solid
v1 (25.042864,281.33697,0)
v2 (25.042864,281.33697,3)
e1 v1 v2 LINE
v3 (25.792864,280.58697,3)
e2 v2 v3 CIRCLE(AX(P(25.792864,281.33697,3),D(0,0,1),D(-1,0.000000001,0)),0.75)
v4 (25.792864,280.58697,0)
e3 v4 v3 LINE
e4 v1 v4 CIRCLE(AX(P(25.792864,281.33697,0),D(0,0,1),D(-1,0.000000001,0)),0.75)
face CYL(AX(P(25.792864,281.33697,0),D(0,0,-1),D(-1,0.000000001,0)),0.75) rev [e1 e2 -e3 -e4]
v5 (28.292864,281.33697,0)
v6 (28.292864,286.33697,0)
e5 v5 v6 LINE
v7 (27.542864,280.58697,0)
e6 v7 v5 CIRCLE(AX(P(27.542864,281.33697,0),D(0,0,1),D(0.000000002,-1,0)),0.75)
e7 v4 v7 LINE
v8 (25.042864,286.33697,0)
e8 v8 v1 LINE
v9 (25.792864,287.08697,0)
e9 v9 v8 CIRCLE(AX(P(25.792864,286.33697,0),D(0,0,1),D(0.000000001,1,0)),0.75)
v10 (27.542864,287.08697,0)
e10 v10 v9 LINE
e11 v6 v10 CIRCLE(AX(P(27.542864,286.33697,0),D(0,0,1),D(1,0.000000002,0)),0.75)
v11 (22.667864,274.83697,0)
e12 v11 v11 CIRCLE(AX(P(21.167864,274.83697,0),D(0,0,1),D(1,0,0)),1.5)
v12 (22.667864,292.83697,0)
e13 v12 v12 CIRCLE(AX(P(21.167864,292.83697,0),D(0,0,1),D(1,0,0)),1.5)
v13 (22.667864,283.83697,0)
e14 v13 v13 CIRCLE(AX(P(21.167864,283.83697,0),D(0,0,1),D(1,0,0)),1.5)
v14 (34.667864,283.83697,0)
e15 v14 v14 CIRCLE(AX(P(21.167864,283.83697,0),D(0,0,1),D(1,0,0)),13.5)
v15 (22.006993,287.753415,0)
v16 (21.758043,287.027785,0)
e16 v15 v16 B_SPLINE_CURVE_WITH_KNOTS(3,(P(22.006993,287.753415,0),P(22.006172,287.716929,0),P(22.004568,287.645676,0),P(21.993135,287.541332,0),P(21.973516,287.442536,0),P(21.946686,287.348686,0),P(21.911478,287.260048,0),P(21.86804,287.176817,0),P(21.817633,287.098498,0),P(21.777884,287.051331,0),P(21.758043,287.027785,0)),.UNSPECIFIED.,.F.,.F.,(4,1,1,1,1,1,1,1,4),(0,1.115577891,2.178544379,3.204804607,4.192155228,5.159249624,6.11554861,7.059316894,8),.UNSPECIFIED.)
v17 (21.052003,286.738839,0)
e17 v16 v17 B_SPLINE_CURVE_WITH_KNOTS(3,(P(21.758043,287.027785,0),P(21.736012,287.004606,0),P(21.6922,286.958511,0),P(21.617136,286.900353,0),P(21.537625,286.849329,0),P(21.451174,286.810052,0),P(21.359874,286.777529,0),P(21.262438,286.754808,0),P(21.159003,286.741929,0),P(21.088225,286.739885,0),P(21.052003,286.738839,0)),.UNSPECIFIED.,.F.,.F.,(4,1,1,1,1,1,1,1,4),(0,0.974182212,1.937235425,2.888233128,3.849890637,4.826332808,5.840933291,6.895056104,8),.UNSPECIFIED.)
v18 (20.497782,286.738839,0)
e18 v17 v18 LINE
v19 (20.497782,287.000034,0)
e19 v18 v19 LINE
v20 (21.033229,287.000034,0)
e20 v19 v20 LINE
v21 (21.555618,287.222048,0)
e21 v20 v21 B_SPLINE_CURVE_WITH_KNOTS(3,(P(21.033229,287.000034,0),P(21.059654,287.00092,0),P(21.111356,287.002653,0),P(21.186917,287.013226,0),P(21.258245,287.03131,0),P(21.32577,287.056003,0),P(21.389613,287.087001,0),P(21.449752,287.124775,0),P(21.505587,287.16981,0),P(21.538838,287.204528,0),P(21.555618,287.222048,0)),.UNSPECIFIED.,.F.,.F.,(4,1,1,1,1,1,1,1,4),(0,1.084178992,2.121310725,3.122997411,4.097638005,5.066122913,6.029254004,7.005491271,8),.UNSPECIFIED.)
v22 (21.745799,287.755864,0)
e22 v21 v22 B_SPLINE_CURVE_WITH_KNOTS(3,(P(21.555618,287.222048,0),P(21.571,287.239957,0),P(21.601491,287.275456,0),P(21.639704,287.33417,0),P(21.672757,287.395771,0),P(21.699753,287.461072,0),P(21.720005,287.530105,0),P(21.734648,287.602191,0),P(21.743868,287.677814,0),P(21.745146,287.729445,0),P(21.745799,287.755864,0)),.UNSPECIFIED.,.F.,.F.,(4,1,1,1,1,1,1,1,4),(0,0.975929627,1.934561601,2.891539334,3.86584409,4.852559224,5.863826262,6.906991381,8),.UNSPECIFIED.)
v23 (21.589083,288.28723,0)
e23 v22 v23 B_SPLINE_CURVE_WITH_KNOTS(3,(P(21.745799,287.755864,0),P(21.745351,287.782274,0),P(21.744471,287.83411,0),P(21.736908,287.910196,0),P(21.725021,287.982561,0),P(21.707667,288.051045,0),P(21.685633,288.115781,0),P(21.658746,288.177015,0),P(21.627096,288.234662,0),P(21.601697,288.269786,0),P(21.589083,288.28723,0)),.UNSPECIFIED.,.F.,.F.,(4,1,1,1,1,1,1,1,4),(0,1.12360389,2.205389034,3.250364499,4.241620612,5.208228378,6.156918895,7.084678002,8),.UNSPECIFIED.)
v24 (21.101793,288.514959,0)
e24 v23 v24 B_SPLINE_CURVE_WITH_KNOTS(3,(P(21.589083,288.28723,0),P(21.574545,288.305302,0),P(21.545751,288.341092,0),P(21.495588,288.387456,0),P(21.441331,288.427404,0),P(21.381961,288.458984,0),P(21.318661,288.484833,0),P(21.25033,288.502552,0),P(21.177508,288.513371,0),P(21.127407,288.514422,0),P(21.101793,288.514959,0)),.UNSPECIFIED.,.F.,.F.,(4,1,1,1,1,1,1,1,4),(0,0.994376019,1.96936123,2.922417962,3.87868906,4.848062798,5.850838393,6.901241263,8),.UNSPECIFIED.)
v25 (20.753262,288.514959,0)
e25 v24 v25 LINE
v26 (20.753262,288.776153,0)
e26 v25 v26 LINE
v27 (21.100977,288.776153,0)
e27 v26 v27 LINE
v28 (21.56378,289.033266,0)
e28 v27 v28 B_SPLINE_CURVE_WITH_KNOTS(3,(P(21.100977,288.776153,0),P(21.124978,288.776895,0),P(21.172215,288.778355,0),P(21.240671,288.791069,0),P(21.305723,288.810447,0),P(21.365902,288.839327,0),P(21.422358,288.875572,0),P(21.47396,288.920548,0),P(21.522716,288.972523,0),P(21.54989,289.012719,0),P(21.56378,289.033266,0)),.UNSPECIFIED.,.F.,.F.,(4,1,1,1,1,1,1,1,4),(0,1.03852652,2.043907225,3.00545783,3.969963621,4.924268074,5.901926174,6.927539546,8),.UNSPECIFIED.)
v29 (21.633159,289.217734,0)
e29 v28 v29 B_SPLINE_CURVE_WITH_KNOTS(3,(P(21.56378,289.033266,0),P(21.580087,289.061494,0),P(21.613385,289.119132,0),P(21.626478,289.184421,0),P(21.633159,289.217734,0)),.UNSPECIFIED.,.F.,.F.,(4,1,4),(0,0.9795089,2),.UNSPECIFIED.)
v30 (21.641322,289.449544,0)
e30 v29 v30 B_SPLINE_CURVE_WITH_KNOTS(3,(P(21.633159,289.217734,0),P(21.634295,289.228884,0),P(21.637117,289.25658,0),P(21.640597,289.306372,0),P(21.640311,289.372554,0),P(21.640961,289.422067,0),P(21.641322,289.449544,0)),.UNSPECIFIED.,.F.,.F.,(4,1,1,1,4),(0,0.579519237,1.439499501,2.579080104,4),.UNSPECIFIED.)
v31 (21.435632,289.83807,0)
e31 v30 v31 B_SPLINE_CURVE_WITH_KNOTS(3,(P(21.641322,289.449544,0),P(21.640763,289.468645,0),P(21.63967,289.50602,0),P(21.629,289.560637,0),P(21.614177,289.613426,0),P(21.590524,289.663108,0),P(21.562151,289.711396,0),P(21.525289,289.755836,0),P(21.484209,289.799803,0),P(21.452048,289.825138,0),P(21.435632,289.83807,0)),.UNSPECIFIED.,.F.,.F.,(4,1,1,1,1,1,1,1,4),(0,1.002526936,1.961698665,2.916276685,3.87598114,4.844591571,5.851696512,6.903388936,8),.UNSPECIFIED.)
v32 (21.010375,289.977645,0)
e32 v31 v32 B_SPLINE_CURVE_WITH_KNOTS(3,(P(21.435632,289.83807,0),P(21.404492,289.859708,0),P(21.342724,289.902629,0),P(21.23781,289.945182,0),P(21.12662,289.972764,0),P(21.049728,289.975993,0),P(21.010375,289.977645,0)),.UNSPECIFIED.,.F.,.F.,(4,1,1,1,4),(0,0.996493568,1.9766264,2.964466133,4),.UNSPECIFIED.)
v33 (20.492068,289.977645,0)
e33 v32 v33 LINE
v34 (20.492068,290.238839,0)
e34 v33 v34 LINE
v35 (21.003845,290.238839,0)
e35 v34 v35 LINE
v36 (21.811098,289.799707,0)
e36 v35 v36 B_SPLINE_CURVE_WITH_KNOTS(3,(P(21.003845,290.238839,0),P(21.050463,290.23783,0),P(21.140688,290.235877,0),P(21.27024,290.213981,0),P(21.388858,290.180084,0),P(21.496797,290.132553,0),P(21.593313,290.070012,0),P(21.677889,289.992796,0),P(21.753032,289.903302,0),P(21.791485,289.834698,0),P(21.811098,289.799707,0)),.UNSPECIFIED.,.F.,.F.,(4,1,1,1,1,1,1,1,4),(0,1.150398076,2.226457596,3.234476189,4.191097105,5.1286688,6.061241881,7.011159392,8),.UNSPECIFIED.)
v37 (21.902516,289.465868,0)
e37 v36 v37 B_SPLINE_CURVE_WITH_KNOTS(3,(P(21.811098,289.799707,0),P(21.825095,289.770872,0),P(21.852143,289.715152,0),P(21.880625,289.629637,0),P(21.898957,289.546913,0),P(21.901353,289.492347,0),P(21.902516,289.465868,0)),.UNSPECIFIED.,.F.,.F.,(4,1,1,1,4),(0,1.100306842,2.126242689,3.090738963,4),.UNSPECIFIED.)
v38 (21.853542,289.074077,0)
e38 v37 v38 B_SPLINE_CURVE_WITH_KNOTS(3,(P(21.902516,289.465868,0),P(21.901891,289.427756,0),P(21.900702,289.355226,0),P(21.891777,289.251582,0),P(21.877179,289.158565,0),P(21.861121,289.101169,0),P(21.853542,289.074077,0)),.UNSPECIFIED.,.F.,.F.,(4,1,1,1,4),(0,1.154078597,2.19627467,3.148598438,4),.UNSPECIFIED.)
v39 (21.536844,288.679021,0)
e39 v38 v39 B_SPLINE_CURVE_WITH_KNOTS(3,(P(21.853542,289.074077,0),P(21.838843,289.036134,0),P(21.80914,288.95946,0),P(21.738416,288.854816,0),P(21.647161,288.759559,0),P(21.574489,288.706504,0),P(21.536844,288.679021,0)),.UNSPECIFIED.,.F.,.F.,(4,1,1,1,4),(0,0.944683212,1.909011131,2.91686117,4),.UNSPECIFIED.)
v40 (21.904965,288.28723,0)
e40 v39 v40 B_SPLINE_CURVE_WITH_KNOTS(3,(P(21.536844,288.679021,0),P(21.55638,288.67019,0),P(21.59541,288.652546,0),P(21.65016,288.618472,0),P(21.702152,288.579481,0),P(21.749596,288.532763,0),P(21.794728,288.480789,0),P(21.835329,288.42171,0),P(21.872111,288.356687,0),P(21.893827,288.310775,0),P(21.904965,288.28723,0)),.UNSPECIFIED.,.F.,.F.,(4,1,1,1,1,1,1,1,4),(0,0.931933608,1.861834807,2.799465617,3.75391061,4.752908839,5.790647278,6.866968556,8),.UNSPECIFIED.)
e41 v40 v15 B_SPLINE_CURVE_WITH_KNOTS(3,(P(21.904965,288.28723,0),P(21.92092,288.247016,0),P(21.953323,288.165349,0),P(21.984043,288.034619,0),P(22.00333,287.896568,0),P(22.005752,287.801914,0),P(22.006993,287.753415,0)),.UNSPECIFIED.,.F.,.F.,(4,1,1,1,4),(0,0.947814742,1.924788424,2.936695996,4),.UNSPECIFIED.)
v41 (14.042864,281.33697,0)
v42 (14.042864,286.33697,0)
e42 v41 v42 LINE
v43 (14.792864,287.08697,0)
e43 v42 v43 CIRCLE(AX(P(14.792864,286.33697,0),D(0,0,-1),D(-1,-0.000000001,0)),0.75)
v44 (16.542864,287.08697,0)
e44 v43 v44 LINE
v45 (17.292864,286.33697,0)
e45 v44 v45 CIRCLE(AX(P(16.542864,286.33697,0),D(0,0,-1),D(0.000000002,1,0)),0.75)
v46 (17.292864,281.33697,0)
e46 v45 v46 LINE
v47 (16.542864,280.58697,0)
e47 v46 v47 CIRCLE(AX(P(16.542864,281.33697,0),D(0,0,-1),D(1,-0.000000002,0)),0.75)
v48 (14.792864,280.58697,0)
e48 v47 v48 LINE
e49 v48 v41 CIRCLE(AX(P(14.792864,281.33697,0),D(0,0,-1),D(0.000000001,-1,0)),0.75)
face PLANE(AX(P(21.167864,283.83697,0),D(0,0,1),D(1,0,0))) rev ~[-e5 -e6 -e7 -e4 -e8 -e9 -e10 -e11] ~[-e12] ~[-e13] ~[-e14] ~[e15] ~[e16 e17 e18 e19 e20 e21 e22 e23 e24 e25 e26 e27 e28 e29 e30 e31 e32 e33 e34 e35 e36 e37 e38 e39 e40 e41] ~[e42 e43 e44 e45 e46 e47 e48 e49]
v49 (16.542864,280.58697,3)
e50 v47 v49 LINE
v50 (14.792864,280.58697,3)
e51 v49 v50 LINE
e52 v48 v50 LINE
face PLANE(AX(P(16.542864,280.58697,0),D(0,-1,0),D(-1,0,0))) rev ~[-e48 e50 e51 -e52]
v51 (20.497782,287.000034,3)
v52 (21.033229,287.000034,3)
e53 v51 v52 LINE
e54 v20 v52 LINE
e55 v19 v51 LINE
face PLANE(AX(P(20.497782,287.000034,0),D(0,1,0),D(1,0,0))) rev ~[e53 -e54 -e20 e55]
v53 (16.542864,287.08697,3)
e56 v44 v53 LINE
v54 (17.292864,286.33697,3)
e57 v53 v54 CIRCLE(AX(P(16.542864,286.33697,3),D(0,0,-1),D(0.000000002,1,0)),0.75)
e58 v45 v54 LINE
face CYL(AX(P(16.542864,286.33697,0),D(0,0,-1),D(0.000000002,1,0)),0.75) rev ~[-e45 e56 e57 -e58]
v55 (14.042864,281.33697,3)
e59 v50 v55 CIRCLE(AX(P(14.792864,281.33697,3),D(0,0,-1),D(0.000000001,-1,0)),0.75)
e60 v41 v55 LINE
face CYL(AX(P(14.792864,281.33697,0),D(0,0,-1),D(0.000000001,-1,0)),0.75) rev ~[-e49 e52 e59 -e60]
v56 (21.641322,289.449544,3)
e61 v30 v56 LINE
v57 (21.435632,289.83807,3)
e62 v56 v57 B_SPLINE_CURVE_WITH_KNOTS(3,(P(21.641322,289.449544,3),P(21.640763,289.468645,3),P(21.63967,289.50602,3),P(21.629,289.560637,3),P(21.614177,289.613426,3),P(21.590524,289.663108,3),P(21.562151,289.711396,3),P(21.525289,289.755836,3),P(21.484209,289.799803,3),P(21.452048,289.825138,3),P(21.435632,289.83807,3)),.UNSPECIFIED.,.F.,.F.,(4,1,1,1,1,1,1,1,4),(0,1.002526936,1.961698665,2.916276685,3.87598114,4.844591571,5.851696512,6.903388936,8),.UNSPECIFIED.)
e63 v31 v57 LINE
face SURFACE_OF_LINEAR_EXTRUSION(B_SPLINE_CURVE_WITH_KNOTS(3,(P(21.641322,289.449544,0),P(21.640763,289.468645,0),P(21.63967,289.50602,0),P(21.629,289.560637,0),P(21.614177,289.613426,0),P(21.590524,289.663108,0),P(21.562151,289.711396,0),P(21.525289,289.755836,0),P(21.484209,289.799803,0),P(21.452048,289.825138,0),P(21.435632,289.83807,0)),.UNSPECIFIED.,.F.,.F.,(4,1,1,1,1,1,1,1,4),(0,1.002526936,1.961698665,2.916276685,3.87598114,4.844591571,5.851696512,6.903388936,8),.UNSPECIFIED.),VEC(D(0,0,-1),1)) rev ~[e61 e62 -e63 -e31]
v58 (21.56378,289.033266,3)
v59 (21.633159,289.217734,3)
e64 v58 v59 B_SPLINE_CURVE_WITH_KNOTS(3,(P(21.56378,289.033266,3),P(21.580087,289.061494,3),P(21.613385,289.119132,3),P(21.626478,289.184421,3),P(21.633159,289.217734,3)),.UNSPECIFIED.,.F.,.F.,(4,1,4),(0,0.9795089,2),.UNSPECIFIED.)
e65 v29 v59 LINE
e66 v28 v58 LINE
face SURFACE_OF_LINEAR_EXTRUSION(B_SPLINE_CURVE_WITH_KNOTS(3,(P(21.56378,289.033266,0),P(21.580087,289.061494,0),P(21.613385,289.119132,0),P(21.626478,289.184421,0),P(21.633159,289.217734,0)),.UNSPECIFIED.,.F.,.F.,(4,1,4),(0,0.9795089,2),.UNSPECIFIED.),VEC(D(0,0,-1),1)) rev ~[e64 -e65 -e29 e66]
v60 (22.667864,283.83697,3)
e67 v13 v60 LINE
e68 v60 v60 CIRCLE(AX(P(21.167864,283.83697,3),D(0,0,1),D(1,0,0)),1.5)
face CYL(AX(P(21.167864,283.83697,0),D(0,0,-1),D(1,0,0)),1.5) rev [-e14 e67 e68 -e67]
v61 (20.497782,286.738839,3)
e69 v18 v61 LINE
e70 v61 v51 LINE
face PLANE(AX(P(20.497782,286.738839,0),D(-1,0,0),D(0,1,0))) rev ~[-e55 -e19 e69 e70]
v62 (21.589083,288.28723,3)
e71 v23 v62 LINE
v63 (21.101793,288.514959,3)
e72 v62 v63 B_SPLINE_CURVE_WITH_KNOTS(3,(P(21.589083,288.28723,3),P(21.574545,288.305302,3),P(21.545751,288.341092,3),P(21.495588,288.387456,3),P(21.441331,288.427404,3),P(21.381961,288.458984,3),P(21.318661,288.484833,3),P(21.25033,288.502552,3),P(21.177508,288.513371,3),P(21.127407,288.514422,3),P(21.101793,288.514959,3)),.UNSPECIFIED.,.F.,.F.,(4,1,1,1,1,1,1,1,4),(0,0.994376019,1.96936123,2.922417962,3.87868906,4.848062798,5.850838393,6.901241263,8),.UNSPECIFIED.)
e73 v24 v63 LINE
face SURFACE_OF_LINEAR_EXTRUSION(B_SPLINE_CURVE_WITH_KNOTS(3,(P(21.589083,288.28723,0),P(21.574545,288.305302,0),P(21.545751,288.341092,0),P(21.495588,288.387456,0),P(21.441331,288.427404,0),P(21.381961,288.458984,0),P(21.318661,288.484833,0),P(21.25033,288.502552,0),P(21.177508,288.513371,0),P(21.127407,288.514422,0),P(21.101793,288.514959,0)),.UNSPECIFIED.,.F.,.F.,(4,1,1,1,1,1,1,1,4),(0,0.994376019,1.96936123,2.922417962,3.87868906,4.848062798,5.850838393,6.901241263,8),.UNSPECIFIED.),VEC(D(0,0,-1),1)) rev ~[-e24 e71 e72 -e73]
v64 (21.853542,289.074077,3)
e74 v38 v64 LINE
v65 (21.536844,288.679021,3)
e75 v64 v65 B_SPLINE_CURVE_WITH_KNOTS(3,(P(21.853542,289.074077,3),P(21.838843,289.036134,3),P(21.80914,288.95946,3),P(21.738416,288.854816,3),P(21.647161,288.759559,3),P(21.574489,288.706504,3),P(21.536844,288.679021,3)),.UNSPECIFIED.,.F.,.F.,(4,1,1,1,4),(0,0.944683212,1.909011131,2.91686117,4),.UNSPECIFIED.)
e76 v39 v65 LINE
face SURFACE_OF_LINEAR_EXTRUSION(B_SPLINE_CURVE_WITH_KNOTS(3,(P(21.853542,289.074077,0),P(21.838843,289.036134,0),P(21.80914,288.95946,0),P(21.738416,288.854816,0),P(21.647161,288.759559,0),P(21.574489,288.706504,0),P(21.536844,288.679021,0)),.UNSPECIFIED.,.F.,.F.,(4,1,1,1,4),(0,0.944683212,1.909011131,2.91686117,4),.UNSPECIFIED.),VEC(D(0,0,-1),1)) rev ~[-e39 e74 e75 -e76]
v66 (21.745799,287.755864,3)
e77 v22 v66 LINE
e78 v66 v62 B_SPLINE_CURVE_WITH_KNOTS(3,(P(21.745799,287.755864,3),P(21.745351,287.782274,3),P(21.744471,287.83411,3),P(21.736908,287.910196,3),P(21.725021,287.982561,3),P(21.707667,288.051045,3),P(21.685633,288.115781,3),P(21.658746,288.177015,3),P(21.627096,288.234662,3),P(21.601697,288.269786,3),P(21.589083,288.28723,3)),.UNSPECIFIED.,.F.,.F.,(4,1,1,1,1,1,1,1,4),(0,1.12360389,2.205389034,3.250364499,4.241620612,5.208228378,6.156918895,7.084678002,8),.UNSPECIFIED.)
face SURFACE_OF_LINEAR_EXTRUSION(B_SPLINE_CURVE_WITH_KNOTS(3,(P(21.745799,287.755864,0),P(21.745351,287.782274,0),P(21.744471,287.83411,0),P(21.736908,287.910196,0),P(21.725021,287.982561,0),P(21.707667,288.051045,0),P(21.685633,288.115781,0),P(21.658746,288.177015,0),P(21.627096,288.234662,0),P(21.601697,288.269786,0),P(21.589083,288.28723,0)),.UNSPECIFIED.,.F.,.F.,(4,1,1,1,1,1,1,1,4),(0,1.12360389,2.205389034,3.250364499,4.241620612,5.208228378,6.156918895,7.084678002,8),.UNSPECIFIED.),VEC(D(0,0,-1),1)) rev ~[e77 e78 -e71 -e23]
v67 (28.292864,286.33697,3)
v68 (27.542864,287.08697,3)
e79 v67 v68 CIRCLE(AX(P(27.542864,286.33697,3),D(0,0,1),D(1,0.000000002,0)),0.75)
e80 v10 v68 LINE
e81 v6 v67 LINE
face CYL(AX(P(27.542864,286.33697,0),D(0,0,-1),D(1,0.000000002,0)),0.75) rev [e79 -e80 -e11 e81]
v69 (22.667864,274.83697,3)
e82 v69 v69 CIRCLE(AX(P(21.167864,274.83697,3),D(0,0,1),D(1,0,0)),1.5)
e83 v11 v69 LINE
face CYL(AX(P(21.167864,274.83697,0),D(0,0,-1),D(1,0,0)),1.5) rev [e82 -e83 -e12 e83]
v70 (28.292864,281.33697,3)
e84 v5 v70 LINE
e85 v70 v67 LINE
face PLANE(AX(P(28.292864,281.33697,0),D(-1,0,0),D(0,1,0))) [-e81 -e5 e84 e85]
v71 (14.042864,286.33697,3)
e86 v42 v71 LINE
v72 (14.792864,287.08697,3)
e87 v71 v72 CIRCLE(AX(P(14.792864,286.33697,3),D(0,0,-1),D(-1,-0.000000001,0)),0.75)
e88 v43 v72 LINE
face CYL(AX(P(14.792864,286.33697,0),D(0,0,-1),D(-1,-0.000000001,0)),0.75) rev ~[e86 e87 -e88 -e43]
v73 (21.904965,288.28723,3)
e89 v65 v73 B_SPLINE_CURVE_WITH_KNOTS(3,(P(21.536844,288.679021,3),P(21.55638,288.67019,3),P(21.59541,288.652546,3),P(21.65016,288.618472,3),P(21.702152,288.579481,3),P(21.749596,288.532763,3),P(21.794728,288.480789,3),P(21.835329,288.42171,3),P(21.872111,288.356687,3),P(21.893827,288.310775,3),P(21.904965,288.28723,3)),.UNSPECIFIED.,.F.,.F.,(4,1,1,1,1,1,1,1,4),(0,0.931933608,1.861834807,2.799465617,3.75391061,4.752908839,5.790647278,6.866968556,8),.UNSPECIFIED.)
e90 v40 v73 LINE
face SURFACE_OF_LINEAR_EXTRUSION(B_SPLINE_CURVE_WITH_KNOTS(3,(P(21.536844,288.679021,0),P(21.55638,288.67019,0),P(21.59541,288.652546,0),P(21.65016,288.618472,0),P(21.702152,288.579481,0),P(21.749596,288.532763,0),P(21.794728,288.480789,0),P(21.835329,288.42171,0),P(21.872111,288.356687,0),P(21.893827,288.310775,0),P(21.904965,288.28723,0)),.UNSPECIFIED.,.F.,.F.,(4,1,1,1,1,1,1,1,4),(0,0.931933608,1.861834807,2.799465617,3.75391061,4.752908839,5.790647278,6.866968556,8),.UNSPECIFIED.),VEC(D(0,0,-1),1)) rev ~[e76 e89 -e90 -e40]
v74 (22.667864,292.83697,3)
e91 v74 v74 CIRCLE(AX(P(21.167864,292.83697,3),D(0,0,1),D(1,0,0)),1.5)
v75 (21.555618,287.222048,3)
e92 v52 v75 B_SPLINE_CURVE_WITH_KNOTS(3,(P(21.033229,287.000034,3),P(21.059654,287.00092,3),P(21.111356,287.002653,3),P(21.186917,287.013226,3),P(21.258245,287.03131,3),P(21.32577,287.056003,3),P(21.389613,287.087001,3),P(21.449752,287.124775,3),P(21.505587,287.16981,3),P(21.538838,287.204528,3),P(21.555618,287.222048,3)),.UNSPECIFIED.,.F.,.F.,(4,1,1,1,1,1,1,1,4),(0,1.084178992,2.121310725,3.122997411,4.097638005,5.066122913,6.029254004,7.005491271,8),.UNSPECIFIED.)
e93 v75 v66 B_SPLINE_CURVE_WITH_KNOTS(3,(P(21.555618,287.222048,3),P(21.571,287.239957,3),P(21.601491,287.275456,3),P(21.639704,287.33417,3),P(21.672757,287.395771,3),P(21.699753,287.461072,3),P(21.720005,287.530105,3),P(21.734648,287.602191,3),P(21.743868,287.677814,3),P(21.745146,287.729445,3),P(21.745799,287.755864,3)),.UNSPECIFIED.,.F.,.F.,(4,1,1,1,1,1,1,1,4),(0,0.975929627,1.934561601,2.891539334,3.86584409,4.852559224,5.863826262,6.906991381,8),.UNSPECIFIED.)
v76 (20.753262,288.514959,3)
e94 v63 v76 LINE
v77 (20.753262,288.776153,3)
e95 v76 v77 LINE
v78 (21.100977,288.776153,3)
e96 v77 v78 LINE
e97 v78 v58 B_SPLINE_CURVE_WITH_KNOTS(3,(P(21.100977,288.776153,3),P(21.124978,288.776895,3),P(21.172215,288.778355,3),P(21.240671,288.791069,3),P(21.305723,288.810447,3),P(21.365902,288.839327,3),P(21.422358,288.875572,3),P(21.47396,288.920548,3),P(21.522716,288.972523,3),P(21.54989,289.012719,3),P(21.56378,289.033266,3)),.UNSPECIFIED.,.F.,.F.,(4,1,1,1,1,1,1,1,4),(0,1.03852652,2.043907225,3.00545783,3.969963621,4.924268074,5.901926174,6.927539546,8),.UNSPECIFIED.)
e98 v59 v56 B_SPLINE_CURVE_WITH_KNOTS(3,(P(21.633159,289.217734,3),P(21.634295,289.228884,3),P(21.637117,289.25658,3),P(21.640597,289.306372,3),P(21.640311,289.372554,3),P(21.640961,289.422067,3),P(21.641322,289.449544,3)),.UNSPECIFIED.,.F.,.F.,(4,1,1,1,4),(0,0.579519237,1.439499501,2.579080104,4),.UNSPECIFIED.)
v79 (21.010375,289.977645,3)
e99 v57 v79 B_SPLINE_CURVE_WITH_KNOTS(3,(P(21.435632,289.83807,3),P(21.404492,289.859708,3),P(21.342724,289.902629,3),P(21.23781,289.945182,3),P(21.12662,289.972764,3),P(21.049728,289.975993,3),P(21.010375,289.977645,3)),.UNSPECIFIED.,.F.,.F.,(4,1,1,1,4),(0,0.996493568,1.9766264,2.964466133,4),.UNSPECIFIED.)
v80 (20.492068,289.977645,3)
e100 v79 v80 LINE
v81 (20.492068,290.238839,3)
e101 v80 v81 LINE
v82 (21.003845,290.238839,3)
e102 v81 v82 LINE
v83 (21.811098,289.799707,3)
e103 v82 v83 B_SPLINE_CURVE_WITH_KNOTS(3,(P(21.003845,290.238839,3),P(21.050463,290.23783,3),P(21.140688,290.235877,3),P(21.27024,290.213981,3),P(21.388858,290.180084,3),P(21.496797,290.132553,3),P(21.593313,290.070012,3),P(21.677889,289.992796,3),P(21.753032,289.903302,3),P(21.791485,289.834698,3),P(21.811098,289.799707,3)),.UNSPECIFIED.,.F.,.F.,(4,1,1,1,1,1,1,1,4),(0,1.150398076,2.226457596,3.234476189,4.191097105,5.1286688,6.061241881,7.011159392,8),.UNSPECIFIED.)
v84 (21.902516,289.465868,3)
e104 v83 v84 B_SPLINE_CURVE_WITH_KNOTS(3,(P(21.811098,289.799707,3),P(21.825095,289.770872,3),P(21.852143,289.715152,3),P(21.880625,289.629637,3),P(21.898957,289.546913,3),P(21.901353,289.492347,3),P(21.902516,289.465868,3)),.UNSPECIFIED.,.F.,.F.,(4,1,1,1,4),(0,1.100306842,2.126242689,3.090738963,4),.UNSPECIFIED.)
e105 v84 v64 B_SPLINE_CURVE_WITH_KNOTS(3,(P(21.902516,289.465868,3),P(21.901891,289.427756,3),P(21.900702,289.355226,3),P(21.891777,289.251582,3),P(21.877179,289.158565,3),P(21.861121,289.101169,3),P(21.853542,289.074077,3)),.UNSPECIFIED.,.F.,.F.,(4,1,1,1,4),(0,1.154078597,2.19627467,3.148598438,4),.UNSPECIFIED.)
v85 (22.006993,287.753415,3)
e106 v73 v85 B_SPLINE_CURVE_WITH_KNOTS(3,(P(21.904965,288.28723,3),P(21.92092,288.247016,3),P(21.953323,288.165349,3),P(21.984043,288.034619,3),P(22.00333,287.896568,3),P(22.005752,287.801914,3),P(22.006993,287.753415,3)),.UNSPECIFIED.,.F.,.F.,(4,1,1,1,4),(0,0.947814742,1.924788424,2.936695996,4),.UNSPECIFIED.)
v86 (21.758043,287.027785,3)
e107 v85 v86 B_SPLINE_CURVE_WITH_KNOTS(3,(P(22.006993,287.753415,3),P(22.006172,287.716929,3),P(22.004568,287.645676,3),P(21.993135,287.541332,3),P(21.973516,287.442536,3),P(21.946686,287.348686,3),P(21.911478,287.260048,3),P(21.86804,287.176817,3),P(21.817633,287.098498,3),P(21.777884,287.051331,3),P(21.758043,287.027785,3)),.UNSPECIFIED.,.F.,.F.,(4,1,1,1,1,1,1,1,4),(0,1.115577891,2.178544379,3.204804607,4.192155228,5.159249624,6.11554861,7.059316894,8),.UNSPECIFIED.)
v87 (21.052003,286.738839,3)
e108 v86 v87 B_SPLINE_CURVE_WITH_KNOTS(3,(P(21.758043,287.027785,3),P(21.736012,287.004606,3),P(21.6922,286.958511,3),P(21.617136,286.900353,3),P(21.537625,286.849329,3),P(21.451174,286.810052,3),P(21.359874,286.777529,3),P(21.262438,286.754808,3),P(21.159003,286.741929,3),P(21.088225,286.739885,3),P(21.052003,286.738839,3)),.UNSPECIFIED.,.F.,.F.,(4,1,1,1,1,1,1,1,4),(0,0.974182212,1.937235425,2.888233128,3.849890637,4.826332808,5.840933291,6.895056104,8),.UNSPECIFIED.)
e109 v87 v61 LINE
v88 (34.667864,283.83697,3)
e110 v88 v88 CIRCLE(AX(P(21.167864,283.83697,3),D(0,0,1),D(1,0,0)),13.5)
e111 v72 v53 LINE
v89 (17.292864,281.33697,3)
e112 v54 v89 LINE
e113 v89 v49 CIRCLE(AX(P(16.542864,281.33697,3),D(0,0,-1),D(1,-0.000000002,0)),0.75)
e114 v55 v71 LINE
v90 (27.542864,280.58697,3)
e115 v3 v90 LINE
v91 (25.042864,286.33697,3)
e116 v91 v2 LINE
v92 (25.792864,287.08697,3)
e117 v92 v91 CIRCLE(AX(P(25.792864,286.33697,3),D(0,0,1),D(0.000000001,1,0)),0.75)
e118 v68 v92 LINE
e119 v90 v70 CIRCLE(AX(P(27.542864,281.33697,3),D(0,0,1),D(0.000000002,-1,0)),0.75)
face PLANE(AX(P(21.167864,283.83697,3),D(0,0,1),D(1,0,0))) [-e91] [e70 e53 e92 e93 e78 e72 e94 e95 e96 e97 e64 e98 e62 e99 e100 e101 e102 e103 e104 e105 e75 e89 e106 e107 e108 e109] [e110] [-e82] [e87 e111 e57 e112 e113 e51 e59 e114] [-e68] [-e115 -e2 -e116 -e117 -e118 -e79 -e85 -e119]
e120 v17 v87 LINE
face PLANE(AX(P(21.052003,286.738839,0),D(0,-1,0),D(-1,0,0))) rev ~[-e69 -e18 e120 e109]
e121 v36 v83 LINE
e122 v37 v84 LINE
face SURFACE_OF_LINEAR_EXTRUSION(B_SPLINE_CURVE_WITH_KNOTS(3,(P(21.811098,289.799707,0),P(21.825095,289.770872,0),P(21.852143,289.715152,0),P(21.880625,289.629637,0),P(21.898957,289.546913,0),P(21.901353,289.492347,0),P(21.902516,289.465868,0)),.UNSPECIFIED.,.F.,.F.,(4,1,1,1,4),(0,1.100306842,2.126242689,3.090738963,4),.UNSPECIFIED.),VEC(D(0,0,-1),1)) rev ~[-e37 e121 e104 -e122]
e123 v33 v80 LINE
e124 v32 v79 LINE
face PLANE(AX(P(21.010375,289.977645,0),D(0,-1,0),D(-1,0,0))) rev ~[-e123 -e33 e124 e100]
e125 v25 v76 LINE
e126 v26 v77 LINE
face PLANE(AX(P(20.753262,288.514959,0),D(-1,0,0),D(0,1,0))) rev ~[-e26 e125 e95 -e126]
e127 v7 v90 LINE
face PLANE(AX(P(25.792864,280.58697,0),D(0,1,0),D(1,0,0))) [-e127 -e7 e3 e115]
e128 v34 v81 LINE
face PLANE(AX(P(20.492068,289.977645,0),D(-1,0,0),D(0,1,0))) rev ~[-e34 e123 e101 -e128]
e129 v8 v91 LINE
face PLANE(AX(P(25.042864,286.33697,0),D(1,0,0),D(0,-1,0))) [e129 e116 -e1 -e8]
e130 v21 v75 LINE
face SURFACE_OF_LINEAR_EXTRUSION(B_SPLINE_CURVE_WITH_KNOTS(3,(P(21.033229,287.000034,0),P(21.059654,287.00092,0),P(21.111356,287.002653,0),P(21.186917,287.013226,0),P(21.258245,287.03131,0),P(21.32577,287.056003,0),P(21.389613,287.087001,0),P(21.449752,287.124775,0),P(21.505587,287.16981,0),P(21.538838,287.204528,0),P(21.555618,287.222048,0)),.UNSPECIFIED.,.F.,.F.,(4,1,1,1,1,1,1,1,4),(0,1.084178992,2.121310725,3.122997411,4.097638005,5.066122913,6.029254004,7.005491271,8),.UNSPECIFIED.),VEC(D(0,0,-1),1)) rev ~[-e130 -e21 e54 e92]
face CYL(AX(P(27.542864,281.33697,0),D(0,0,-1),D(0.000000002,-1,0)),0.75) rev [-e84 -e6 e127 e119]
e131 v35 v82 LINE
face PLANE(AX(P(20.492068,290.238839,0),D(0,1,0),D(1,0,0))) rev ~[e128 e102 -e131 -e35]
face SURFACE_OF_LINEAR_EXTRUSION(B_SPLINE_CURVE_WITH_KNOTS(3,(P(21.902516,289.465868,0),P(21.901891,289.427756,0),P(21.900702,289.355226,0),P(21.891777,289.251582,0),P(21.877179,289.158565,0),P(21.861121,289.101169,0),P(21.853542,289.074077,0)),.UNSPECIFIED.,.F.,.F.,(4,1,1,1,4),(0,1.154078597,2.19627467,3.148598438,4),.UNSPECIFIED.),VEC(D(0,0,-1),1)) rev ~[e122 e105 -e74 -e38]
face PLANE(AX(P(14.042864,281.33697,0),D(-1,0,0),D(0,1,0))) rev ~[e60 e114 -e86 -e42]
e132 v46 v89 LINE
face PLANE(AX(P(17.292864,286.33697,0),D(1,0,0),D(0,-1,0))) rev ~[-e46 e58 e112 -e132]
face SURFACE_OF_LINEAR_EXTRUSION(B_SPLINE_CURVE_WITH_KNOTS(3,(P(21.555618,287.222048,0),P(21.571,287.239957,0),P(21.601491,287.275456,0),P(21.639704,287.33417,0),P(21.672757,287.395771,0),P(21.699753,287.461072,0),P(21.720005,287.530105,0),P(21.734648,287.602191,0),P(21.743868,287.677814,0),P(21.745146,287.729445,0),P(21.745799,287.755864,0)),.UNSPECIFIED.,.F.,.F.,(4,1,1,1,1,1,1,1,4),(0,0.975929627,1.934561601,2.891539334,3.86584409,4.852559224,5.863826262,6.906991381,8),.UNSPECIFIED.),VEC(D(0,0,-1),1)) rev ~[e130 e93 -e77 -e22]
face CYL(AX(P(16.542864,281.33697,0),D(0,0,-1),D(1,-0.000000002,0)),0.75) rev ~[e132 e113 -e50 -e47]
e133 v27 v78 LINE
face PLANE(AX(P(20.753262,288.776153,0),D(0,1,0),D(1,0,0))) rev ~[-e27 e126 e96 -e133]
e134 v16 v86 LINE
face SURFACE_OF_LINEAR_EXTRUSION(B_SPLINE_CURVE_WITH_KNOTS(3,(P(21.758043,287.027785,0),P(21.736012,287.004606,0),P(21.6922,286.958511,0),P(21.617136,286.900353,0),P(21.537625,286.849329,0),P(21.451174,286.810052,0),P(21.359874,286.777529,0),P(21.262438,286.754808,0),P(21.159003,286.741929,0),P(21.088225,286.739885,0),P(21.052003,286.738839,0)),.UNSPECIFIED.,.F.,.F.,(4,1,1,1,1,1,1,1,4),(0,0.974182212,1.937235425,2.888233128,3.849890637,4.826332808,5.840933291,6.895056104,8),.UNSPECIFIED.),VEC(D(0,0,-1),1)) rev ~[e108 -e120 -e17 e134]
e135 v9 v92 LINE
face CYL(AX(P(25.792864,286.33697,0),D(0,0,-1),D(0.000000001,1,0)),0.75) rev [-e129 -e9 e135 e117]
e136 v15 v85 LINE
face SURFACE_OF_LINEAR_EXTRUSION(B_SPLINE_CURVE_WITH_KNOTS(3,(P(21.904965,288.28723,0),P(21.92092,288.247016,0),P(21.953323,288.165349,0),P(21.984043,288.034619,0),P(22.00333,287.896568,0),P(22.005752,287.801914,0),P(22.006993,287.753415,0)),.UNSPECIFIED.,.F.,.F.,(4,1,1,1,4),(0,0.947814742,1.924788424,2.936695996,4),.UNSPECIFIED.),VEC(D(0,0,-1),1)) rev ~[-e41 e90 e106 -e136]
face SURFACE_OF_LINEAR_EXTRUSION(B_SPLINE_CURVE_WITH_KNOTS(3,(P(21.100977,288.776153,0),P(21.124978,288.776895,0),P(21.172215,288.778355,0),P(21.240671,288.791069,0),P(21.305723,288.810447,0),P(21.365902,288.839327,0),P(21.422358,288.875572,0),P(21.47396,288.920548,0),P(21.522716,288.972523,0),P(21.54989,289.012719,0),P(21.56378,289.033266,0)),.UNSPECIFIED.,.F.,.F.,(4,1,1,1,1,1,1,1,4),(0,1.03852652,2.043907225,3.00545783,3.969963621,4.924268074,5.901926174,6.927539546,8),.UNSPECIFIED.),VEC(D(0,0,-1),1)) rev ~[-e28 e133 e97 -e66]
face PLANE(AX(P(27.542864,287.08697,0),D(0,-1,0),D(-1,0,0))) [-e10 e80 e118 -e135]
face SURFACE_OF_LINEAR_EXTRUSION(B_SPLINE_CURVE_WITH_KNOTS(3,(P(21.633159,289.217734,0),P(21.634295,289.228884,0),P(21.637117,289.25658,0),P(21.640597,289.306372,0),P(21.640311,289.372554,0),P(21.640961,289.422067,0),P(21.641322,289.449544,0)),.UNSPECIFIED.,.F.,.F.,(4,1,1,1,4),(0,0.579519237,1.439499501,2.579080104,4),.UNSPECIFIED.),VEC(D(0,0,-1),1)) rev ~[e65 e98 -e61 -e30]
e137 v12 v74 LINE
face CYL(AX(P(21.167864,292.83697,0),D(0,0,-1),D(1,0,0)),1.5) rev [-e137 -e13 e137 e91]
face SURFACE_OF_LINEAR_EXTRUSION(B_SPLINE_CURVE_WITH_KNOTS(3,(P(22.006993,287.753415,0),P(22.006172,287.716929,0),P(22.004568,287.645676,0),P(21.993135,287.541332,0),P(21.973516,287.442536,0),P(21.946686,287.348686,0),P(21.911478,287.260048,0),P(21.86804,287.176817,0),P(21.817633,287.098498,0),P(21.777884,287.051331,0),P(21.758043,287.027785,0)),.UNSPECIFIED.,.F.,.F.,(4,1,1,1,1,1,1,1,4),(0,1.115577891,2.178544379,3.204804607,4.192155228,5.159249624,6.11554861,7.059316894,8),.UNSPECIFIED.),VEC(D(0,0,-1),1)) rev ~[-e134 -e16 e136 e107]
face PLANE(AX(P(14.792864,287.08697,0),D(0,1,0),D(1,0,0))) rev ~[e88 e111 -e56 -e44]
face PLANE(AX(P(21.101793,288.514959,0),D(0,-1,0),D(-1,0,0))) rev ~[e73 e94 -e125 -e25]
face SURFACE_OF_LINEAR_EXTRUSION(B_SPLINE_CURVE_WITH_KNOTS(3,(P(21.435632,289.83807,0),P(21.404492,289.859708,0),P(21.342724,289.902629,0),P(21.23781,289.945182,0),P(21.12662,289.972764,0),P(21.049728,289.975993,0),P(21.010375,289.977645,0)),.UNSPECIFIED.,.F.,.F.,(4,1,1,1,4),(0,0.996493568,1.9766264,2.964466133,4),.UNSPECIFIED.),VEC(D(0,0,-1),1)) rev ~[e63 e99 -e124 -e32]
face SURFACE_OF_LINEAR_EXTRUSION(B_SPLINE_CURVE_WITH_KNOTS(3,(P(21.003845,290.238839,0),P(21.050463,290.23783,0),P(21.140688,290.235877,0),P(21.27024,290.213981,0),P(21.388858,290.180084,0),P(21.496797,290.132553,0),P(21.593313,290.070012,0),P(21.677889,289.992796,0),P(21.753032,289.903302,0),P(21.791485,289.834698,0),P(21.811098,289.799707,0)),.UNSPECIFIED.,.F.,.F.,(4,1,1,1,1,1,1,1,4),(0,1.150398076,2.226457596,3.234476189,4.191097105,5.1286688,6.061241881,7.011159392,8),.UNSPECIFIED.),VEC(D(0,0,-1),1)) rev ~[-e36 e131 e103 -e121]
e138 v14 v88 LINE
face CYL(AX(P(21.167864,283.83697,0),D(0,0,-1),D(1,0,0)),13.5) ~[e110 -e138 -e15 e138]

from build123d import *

# Parameters (mm, degrees)
MODEL_R                 = 13.5
MODEL_R_2               = 1.5
SALIENTE_EXTRUIR1_DEPTH = 3


with BuildPart() as part:
    # Model → Saliente-Extruir1 (new body)
    with BuildSketch(Plane.XY):
        with Locations((21.167864369, 283.836969837)):
            Circle(MODEL_R)
        with Locations((21.167864369, 283.836969837)):
            Circle(MODEL_R_2, mode=Mode.SUBTRACT)
        with Locations((21.167864369, 292.836969837)):
            Circle(MODEL_R_2, mode=Mode.SUBTRACT)
        with Locations((21.167864369, 274.836969837)):
            Circle(MODEL_R_2, mode=Mode.SUBTRACT)
        with BuildLine():
            Line((27.542864369, 287.086969837), (25.792864369, 287.086969837))
            ThreePointArc((25.792864369, 287.086969837), (25.262534283, 286.867299923), (25.042864369, 286.336969837))
            Line((25.042864369, 286.336969837), (25.042864369, 281.336969837))
            ThreePointArc((25.042864369, 281.336969837), (25.262534283, 280.806639751), (25.792864369, 280.586969837))
            Line((25.792864369, 280.586969837), (27.542864369, 280.586969837))
            ThreePointArc((27.542864369, 280.586969837), (28.073194454, 280.806639751), (28.292864369, 281.336969837))
            Line((28.292864369, 281.336969837), (28.292864369, 286.336969837))
            ThreePointArc((28.292864369, 286.336969837), (28.073194454, 286.867299923), (27.542864369, 287.086969837))
        make_face(mode=Mode.SUBTRACT)
        with BuildLine():
            Line((14.792864369, 287.086969837), (16.542864369, 287.086969837))
            ThreePointArc((16.542864369, 287.086969837), (17.073194454, 286.867299923), (17.292864369, 286.336969837))
            Line((17.292864369, 286.336969837), (17.292864369, 281.336969837))
            ThreePointArc((17.292864369, 281.336969837), (17.073194454, 280.806639751), (16.542864369, 280.586969837))
            Line((16.542864369, 280.586969837), (14.792864369, 280.586969837))
            ThreePointArc((14.792864369, 280.586969837), (14.262534283, 280.806639751), (14.042864369, 281.336969837))
            Line((14.042864369, 281.336969837), (14.042864369, 286.336969837))
            ThreePointArc((14.042864369, 286.336969837), (14.262534283, 286.867299923), (14.792864369, 287.086969837))
        make_face(mode=Mode.SUBTRACT)
        with BuildLine():
            add(Edge.make_bspline(
                [(22.006993441, 287.753415048), (22.006172191, 287.716928587), (22.004568422, 287.645676392), (21.993135393, 287.541332376), (21.973516379, 287.442536499), (21.946685696, 287.348686497), (21.911477525, 287.260048048), (21.868040261, 287.176817115), (21.817632611, 287.098498345), (21.777884433, 287.05133063), (21.758042881, 287.027785384)],
                knots=[0, 0, 0, 0, 1.115577891, 2.178544379, 3.204804607, 4.192155228, 5.159249624, 6.11554861, 7.059316894, 8, 8, 8, 8], degree=3))
            add(Edge.make_bspline(
                [(21.758042881, 287.027785384), (21.73601152, 287.004605717), (21.692200482, 286.958511187), (21.617136147, 286.900352518), (21.537624651, 286.849328876), (21.451173506, 286.810051796), (21.359873554, 286.77752931), (21.262438119, 286.754808132), (21.159003088, 286.741929369), (21.088224879, 286.739885485), (21.05200277, 286.738839488)],
                knots=[0, 0, 0, 0, 0.974182212, 1.937235425, 2.888233128, 3.849890637, 4.826332808, 5.840933291, 6.895056104, 8, 8, 8, 8], degree=3))
            Line((21.05200277, 286.738839488), (20.497781687, 286.738839488))
            Line((20.497781687, 286.738839488), (20.497781687, 287.000033518))
            Line((20.497781687, 287.000033518), (21.033229449, 287.000033518))
            add(Edge.make_bspline(
                [(21.033229449, 287.000033518), (21.059653725, 287.000919571), (21.111355614, 287.002653229), (21.186916697, 287.013225583), (21.258244632, 287.031310058), (21.32576964, 287.056003306), (21.38961335, 287.087000578), (21.44975153, 287.124774673), (21.505586643, 287.169810236), (21.538837792, 287.204528413), (21.555617508, 287.222048443)],
                knots=[0, 0, 0, 0, 1.084178992, 2.121310725, 3.122997411, 4.097638005, 5.066122913, 6.029254004, 7.005491271, 8, 8, 8, 8], degree=3))
            add(Edge.make_bspline(
                [(21.555617508, 287.222048443), (21.570999544, 287.239956661), (21.601490979, 287.275455687), (21.639704379, 287.334170151), (21.672756978, 287.395771039), (21.699752927, 287.461072065), (21.72000496, 287.530104828), (21.73464822, 287.60219141), (21.743868039, 287.677813713), (21.745145683, 287.72944549), (21.745799411, 287.755863742)],
                knots=[0, 0, 0, 0, 0.975929627, 1.934561601, 2.891539334, 3.86584409, 4.852559224, 5.863826262, 6.906991381, 8, 8, 8, 8], degree=3))
            add(Edge.make_bspline(
                [(21.745799411, 287.755863742), (21.745351061, 287.782273605), (21.744471049, 287.834110399), (21.736907633, 287.91019579), (21.725020702, 287.982561288), (21.707666875, 288.051045489), (21.685633293, 288.115780826), (21.65874604, 288.177014822), (21.627095592, 288.234661565), (21.601696729, 288.269786427), (21.589082993, 288.287230346)],
                knots=[0, 0, 0, 0, 1.12360389, 2.205389034, 3.250364499, 4.241620612, 5.208228378, 6.156918895, 7.084678002, 8, 8, 8, 8], degree=3))
            add(Edge.make_bspline(
                [(21.589082993, 288.287230346), (21.574544546, 288.305301748), (21.545751158, 288.341092151), (21.495588333, 288.387456001), (21.441330602, 288.427404284), (21.381961231, 288.458984195), (21.318660617, 288.484833389), (21.250329767, 288.502552092), (21.177508361, 288.513371193), (21.127407132, 288.514421779), (21.101792881, 288.514958891)],
                knots=[0, 0, 0, 0, 0.994376019, 1.96936123, 2.922417962, 3.87868906, 4.848062798, 5.850838393, 6.901241263, 8, 8, 8, 8], degree=3))
            Line((21.101792881, 288.514958891), (20.753262098, 288.514958891))
            Line((20.753262098, 288.514958891), (20.753262098, 288.776152921))
            Line((20.753262098, 288.776152921), (21.10097665, 288.776152921))
            add(Edge.make_bspline(
                [(21.10097665, 288.776152921), (21.124978156, 288.776894886), (21.17221513, 288.778355134), (21.24067129, 288.791069119), (21.305723418, 288.810446517), (21.365901811, 288.839327455), (21.422358121, 288.875571718), (21.473959727, 288.920548215), (21.522716334, 288.97252323), (21.549889744, 289.0127191), (21.563779822, 289.033265794)],
                knots=[0, 0, 0, 0, 1.03852652, 2.043907225, 3.00545783, 3.969963621, 4.924268074, 5.901926174, 6.927539546, 8, 8, 8, 8], degree=3))
            add(Edge.make_bspline(
                [(21.563779822, 289.033265794), (21.580087317, 289.061494287), (21.613384605, 289.119132341), (21.626478423, 289.184420887), (21.633159486, 289.217734078)],
                knots=[0, 0, 0, 0, 0.9795089, 2, 2, 2, 2], degree=3))
            add(Edge.make_bspline(
                [(21.633159486, 289.217734078), (21.634295276, 289.22888413), (21.637116527, 289.256580356), (21.640596563, 289.306371742), (21.640310959, 289.372553775), (21.640961043, 289.422066995), (21.641321799, 289.449543779)],
                knots=[0, 0, 0, 0, 0.579519237, 1.439499501, 2.579080104, 4, 4, 4, 4], degree=3))
            add(Edge.make_bspline(
                [(21.641321799, 289.449543779), (21.640763207, 289.468644592), (21.63967018, 289.506020185), (21.628999757, 289.560636767), (21.614177359, 289.613425933), (21.590523941, 289.663107736), (21.562151141, 289.711395656), (21.525289358, 289.755836224), (21.484208987, 289.79980254), (21.452048145, 289.825137537), (21.435631501, 289.838069899)],
                knots=[0, 0, 0, 0, 1.002526936, 1.961698665, 2.916276685, 3.87598114, 4.844591571, 5.851696512, 6.903388936, 8, 8, 8, 8], degree=3))
            add(Edge.make_bspline(
                [(21.435631501, 289.838069899), (21.404492029, 289.859708178), (21.342724342, 289.902629473), (21.237809785, 289.945182436), (21.126620474, 289.972764119), (21.049727634, 289.975992976), (21.010374971, 289.977645458)],
                knots=[0, 0, 0, 0, 0.996493568, 1.9766264, 2.964466133, 4, 4, 4, 4], degree=3))
            Line((21.010374971, 289.977645458), (20.492068068, 289.977645458))
            Line((20.492068068, 289.977645458), (20.492068068, 290.238839488))
            Line((20.492068068, 290.238839488), (21.00384512, 290.238839488))
            add(Edge.make_bspline(
                [(21.00384512, 290.238839488), (21.050463483, 290.237830417), (21.140687736, 290.235877481), (21.270239549, 290.213980608), (21.388857916, 290.180083596), (21.496796805, 290.132553021), (21.593313097, 290.070012259), (21.677888732, 289.992796138), (21.753031972, 289.903301888), (21.79148527, 289.834697752), (21.811097919, 289.799707025)],
                knots=[0, 0, 0, 0, 1.150398076, 2.226457596, 3.234476189, 4.191097105, 5.1286688, 6.061241881, 7.011159392, 8, 8, 8, 8], degree=3))
            add(Edge.make_bspline(
                [(21.811097919, 289.799707025), (21.82509514, 289.770872206), (21.852143494, 289.715151544), (21.880625138, 289.629637364), (21.898956697, 289.546912649), (21.901352998, 289.492346985), (21.902515829, 289.465868406)],
                knots=[0, 0, 0, 0, 1.100306842, 2.126242689, 3.090738963, 4, 4, 4, 4], degree=3))
            add(Edge.make_bspline(
                [(21.902515829, 289.465868406), (21.901891131, 289.42775605), (21.900702296, 289.355226154), (21.891776806, 289.251582475), (21.8771786, 289.158564557), (21.861121354, 289.101169298), (21.853541949, 289.074077361)],
                knots=[0, 0, 0, 0, 1.154078597, 2.19627467, 3.148598438, 4, 4, 4, 4], degree=3))
            add(Edge.make_bspline(
                [(21.853541949, 289.074077361), (21.838843028, 289.036134419), (21.809139523, 288.959459511), (21.738416217, 288.854815662), (21.647160825, 288.759558716), (21.574488619, 288.706503935), (21.536844187, 288.679021391)],
                knots=[0, 0, 0, 0, 0.944683212, 1.909011131, 2.91686117, 4, 4, 4, 4], degree=3))
            add(Edge.make_bspline(
                [(21.536844187, 288.679021391), (21.556380181, 288.670189844), (21.595409564, 288.65254601), (21.650160169, 288.618471642), (21.70215206, 288.57948108), (21.749595699, 288.532763352), (21.794728064, 288.480789053), (21.835328975, 288.421709647), (21.872110759, 288.356686798), (21.893827459, 288.310775319), (21.904964523, 288.287230346)],
                knots=[0, 0, 0, 0, 0.931933608, 1.861834807, 2.799465617, 3.75391061, 4.752908839, 5.790647278, 6.866968556, 8, 8, 8, 8], degree=3))
            add(Edge.make_bspline(
                [(21.904964523, 288.287230346), (21.920920296, 288.247015558), (21.953322712, 288.165348797), (21.98404343, 288.034618703), (22.003330483, 287.896567742), (22.00575246, 287.801914037), (22.006993441, 287.753415048)],
                knots=[0, 0, 0, 0, 0.947814742, 1.924788424, 2.936695996, 4, 4, 4, 4], degree=3))
        make_face(mode=Mode.SUBTRACT)
    extrude(amount=SALIENTE_EXTRUIR1_DEPTH)


solid = part.part
